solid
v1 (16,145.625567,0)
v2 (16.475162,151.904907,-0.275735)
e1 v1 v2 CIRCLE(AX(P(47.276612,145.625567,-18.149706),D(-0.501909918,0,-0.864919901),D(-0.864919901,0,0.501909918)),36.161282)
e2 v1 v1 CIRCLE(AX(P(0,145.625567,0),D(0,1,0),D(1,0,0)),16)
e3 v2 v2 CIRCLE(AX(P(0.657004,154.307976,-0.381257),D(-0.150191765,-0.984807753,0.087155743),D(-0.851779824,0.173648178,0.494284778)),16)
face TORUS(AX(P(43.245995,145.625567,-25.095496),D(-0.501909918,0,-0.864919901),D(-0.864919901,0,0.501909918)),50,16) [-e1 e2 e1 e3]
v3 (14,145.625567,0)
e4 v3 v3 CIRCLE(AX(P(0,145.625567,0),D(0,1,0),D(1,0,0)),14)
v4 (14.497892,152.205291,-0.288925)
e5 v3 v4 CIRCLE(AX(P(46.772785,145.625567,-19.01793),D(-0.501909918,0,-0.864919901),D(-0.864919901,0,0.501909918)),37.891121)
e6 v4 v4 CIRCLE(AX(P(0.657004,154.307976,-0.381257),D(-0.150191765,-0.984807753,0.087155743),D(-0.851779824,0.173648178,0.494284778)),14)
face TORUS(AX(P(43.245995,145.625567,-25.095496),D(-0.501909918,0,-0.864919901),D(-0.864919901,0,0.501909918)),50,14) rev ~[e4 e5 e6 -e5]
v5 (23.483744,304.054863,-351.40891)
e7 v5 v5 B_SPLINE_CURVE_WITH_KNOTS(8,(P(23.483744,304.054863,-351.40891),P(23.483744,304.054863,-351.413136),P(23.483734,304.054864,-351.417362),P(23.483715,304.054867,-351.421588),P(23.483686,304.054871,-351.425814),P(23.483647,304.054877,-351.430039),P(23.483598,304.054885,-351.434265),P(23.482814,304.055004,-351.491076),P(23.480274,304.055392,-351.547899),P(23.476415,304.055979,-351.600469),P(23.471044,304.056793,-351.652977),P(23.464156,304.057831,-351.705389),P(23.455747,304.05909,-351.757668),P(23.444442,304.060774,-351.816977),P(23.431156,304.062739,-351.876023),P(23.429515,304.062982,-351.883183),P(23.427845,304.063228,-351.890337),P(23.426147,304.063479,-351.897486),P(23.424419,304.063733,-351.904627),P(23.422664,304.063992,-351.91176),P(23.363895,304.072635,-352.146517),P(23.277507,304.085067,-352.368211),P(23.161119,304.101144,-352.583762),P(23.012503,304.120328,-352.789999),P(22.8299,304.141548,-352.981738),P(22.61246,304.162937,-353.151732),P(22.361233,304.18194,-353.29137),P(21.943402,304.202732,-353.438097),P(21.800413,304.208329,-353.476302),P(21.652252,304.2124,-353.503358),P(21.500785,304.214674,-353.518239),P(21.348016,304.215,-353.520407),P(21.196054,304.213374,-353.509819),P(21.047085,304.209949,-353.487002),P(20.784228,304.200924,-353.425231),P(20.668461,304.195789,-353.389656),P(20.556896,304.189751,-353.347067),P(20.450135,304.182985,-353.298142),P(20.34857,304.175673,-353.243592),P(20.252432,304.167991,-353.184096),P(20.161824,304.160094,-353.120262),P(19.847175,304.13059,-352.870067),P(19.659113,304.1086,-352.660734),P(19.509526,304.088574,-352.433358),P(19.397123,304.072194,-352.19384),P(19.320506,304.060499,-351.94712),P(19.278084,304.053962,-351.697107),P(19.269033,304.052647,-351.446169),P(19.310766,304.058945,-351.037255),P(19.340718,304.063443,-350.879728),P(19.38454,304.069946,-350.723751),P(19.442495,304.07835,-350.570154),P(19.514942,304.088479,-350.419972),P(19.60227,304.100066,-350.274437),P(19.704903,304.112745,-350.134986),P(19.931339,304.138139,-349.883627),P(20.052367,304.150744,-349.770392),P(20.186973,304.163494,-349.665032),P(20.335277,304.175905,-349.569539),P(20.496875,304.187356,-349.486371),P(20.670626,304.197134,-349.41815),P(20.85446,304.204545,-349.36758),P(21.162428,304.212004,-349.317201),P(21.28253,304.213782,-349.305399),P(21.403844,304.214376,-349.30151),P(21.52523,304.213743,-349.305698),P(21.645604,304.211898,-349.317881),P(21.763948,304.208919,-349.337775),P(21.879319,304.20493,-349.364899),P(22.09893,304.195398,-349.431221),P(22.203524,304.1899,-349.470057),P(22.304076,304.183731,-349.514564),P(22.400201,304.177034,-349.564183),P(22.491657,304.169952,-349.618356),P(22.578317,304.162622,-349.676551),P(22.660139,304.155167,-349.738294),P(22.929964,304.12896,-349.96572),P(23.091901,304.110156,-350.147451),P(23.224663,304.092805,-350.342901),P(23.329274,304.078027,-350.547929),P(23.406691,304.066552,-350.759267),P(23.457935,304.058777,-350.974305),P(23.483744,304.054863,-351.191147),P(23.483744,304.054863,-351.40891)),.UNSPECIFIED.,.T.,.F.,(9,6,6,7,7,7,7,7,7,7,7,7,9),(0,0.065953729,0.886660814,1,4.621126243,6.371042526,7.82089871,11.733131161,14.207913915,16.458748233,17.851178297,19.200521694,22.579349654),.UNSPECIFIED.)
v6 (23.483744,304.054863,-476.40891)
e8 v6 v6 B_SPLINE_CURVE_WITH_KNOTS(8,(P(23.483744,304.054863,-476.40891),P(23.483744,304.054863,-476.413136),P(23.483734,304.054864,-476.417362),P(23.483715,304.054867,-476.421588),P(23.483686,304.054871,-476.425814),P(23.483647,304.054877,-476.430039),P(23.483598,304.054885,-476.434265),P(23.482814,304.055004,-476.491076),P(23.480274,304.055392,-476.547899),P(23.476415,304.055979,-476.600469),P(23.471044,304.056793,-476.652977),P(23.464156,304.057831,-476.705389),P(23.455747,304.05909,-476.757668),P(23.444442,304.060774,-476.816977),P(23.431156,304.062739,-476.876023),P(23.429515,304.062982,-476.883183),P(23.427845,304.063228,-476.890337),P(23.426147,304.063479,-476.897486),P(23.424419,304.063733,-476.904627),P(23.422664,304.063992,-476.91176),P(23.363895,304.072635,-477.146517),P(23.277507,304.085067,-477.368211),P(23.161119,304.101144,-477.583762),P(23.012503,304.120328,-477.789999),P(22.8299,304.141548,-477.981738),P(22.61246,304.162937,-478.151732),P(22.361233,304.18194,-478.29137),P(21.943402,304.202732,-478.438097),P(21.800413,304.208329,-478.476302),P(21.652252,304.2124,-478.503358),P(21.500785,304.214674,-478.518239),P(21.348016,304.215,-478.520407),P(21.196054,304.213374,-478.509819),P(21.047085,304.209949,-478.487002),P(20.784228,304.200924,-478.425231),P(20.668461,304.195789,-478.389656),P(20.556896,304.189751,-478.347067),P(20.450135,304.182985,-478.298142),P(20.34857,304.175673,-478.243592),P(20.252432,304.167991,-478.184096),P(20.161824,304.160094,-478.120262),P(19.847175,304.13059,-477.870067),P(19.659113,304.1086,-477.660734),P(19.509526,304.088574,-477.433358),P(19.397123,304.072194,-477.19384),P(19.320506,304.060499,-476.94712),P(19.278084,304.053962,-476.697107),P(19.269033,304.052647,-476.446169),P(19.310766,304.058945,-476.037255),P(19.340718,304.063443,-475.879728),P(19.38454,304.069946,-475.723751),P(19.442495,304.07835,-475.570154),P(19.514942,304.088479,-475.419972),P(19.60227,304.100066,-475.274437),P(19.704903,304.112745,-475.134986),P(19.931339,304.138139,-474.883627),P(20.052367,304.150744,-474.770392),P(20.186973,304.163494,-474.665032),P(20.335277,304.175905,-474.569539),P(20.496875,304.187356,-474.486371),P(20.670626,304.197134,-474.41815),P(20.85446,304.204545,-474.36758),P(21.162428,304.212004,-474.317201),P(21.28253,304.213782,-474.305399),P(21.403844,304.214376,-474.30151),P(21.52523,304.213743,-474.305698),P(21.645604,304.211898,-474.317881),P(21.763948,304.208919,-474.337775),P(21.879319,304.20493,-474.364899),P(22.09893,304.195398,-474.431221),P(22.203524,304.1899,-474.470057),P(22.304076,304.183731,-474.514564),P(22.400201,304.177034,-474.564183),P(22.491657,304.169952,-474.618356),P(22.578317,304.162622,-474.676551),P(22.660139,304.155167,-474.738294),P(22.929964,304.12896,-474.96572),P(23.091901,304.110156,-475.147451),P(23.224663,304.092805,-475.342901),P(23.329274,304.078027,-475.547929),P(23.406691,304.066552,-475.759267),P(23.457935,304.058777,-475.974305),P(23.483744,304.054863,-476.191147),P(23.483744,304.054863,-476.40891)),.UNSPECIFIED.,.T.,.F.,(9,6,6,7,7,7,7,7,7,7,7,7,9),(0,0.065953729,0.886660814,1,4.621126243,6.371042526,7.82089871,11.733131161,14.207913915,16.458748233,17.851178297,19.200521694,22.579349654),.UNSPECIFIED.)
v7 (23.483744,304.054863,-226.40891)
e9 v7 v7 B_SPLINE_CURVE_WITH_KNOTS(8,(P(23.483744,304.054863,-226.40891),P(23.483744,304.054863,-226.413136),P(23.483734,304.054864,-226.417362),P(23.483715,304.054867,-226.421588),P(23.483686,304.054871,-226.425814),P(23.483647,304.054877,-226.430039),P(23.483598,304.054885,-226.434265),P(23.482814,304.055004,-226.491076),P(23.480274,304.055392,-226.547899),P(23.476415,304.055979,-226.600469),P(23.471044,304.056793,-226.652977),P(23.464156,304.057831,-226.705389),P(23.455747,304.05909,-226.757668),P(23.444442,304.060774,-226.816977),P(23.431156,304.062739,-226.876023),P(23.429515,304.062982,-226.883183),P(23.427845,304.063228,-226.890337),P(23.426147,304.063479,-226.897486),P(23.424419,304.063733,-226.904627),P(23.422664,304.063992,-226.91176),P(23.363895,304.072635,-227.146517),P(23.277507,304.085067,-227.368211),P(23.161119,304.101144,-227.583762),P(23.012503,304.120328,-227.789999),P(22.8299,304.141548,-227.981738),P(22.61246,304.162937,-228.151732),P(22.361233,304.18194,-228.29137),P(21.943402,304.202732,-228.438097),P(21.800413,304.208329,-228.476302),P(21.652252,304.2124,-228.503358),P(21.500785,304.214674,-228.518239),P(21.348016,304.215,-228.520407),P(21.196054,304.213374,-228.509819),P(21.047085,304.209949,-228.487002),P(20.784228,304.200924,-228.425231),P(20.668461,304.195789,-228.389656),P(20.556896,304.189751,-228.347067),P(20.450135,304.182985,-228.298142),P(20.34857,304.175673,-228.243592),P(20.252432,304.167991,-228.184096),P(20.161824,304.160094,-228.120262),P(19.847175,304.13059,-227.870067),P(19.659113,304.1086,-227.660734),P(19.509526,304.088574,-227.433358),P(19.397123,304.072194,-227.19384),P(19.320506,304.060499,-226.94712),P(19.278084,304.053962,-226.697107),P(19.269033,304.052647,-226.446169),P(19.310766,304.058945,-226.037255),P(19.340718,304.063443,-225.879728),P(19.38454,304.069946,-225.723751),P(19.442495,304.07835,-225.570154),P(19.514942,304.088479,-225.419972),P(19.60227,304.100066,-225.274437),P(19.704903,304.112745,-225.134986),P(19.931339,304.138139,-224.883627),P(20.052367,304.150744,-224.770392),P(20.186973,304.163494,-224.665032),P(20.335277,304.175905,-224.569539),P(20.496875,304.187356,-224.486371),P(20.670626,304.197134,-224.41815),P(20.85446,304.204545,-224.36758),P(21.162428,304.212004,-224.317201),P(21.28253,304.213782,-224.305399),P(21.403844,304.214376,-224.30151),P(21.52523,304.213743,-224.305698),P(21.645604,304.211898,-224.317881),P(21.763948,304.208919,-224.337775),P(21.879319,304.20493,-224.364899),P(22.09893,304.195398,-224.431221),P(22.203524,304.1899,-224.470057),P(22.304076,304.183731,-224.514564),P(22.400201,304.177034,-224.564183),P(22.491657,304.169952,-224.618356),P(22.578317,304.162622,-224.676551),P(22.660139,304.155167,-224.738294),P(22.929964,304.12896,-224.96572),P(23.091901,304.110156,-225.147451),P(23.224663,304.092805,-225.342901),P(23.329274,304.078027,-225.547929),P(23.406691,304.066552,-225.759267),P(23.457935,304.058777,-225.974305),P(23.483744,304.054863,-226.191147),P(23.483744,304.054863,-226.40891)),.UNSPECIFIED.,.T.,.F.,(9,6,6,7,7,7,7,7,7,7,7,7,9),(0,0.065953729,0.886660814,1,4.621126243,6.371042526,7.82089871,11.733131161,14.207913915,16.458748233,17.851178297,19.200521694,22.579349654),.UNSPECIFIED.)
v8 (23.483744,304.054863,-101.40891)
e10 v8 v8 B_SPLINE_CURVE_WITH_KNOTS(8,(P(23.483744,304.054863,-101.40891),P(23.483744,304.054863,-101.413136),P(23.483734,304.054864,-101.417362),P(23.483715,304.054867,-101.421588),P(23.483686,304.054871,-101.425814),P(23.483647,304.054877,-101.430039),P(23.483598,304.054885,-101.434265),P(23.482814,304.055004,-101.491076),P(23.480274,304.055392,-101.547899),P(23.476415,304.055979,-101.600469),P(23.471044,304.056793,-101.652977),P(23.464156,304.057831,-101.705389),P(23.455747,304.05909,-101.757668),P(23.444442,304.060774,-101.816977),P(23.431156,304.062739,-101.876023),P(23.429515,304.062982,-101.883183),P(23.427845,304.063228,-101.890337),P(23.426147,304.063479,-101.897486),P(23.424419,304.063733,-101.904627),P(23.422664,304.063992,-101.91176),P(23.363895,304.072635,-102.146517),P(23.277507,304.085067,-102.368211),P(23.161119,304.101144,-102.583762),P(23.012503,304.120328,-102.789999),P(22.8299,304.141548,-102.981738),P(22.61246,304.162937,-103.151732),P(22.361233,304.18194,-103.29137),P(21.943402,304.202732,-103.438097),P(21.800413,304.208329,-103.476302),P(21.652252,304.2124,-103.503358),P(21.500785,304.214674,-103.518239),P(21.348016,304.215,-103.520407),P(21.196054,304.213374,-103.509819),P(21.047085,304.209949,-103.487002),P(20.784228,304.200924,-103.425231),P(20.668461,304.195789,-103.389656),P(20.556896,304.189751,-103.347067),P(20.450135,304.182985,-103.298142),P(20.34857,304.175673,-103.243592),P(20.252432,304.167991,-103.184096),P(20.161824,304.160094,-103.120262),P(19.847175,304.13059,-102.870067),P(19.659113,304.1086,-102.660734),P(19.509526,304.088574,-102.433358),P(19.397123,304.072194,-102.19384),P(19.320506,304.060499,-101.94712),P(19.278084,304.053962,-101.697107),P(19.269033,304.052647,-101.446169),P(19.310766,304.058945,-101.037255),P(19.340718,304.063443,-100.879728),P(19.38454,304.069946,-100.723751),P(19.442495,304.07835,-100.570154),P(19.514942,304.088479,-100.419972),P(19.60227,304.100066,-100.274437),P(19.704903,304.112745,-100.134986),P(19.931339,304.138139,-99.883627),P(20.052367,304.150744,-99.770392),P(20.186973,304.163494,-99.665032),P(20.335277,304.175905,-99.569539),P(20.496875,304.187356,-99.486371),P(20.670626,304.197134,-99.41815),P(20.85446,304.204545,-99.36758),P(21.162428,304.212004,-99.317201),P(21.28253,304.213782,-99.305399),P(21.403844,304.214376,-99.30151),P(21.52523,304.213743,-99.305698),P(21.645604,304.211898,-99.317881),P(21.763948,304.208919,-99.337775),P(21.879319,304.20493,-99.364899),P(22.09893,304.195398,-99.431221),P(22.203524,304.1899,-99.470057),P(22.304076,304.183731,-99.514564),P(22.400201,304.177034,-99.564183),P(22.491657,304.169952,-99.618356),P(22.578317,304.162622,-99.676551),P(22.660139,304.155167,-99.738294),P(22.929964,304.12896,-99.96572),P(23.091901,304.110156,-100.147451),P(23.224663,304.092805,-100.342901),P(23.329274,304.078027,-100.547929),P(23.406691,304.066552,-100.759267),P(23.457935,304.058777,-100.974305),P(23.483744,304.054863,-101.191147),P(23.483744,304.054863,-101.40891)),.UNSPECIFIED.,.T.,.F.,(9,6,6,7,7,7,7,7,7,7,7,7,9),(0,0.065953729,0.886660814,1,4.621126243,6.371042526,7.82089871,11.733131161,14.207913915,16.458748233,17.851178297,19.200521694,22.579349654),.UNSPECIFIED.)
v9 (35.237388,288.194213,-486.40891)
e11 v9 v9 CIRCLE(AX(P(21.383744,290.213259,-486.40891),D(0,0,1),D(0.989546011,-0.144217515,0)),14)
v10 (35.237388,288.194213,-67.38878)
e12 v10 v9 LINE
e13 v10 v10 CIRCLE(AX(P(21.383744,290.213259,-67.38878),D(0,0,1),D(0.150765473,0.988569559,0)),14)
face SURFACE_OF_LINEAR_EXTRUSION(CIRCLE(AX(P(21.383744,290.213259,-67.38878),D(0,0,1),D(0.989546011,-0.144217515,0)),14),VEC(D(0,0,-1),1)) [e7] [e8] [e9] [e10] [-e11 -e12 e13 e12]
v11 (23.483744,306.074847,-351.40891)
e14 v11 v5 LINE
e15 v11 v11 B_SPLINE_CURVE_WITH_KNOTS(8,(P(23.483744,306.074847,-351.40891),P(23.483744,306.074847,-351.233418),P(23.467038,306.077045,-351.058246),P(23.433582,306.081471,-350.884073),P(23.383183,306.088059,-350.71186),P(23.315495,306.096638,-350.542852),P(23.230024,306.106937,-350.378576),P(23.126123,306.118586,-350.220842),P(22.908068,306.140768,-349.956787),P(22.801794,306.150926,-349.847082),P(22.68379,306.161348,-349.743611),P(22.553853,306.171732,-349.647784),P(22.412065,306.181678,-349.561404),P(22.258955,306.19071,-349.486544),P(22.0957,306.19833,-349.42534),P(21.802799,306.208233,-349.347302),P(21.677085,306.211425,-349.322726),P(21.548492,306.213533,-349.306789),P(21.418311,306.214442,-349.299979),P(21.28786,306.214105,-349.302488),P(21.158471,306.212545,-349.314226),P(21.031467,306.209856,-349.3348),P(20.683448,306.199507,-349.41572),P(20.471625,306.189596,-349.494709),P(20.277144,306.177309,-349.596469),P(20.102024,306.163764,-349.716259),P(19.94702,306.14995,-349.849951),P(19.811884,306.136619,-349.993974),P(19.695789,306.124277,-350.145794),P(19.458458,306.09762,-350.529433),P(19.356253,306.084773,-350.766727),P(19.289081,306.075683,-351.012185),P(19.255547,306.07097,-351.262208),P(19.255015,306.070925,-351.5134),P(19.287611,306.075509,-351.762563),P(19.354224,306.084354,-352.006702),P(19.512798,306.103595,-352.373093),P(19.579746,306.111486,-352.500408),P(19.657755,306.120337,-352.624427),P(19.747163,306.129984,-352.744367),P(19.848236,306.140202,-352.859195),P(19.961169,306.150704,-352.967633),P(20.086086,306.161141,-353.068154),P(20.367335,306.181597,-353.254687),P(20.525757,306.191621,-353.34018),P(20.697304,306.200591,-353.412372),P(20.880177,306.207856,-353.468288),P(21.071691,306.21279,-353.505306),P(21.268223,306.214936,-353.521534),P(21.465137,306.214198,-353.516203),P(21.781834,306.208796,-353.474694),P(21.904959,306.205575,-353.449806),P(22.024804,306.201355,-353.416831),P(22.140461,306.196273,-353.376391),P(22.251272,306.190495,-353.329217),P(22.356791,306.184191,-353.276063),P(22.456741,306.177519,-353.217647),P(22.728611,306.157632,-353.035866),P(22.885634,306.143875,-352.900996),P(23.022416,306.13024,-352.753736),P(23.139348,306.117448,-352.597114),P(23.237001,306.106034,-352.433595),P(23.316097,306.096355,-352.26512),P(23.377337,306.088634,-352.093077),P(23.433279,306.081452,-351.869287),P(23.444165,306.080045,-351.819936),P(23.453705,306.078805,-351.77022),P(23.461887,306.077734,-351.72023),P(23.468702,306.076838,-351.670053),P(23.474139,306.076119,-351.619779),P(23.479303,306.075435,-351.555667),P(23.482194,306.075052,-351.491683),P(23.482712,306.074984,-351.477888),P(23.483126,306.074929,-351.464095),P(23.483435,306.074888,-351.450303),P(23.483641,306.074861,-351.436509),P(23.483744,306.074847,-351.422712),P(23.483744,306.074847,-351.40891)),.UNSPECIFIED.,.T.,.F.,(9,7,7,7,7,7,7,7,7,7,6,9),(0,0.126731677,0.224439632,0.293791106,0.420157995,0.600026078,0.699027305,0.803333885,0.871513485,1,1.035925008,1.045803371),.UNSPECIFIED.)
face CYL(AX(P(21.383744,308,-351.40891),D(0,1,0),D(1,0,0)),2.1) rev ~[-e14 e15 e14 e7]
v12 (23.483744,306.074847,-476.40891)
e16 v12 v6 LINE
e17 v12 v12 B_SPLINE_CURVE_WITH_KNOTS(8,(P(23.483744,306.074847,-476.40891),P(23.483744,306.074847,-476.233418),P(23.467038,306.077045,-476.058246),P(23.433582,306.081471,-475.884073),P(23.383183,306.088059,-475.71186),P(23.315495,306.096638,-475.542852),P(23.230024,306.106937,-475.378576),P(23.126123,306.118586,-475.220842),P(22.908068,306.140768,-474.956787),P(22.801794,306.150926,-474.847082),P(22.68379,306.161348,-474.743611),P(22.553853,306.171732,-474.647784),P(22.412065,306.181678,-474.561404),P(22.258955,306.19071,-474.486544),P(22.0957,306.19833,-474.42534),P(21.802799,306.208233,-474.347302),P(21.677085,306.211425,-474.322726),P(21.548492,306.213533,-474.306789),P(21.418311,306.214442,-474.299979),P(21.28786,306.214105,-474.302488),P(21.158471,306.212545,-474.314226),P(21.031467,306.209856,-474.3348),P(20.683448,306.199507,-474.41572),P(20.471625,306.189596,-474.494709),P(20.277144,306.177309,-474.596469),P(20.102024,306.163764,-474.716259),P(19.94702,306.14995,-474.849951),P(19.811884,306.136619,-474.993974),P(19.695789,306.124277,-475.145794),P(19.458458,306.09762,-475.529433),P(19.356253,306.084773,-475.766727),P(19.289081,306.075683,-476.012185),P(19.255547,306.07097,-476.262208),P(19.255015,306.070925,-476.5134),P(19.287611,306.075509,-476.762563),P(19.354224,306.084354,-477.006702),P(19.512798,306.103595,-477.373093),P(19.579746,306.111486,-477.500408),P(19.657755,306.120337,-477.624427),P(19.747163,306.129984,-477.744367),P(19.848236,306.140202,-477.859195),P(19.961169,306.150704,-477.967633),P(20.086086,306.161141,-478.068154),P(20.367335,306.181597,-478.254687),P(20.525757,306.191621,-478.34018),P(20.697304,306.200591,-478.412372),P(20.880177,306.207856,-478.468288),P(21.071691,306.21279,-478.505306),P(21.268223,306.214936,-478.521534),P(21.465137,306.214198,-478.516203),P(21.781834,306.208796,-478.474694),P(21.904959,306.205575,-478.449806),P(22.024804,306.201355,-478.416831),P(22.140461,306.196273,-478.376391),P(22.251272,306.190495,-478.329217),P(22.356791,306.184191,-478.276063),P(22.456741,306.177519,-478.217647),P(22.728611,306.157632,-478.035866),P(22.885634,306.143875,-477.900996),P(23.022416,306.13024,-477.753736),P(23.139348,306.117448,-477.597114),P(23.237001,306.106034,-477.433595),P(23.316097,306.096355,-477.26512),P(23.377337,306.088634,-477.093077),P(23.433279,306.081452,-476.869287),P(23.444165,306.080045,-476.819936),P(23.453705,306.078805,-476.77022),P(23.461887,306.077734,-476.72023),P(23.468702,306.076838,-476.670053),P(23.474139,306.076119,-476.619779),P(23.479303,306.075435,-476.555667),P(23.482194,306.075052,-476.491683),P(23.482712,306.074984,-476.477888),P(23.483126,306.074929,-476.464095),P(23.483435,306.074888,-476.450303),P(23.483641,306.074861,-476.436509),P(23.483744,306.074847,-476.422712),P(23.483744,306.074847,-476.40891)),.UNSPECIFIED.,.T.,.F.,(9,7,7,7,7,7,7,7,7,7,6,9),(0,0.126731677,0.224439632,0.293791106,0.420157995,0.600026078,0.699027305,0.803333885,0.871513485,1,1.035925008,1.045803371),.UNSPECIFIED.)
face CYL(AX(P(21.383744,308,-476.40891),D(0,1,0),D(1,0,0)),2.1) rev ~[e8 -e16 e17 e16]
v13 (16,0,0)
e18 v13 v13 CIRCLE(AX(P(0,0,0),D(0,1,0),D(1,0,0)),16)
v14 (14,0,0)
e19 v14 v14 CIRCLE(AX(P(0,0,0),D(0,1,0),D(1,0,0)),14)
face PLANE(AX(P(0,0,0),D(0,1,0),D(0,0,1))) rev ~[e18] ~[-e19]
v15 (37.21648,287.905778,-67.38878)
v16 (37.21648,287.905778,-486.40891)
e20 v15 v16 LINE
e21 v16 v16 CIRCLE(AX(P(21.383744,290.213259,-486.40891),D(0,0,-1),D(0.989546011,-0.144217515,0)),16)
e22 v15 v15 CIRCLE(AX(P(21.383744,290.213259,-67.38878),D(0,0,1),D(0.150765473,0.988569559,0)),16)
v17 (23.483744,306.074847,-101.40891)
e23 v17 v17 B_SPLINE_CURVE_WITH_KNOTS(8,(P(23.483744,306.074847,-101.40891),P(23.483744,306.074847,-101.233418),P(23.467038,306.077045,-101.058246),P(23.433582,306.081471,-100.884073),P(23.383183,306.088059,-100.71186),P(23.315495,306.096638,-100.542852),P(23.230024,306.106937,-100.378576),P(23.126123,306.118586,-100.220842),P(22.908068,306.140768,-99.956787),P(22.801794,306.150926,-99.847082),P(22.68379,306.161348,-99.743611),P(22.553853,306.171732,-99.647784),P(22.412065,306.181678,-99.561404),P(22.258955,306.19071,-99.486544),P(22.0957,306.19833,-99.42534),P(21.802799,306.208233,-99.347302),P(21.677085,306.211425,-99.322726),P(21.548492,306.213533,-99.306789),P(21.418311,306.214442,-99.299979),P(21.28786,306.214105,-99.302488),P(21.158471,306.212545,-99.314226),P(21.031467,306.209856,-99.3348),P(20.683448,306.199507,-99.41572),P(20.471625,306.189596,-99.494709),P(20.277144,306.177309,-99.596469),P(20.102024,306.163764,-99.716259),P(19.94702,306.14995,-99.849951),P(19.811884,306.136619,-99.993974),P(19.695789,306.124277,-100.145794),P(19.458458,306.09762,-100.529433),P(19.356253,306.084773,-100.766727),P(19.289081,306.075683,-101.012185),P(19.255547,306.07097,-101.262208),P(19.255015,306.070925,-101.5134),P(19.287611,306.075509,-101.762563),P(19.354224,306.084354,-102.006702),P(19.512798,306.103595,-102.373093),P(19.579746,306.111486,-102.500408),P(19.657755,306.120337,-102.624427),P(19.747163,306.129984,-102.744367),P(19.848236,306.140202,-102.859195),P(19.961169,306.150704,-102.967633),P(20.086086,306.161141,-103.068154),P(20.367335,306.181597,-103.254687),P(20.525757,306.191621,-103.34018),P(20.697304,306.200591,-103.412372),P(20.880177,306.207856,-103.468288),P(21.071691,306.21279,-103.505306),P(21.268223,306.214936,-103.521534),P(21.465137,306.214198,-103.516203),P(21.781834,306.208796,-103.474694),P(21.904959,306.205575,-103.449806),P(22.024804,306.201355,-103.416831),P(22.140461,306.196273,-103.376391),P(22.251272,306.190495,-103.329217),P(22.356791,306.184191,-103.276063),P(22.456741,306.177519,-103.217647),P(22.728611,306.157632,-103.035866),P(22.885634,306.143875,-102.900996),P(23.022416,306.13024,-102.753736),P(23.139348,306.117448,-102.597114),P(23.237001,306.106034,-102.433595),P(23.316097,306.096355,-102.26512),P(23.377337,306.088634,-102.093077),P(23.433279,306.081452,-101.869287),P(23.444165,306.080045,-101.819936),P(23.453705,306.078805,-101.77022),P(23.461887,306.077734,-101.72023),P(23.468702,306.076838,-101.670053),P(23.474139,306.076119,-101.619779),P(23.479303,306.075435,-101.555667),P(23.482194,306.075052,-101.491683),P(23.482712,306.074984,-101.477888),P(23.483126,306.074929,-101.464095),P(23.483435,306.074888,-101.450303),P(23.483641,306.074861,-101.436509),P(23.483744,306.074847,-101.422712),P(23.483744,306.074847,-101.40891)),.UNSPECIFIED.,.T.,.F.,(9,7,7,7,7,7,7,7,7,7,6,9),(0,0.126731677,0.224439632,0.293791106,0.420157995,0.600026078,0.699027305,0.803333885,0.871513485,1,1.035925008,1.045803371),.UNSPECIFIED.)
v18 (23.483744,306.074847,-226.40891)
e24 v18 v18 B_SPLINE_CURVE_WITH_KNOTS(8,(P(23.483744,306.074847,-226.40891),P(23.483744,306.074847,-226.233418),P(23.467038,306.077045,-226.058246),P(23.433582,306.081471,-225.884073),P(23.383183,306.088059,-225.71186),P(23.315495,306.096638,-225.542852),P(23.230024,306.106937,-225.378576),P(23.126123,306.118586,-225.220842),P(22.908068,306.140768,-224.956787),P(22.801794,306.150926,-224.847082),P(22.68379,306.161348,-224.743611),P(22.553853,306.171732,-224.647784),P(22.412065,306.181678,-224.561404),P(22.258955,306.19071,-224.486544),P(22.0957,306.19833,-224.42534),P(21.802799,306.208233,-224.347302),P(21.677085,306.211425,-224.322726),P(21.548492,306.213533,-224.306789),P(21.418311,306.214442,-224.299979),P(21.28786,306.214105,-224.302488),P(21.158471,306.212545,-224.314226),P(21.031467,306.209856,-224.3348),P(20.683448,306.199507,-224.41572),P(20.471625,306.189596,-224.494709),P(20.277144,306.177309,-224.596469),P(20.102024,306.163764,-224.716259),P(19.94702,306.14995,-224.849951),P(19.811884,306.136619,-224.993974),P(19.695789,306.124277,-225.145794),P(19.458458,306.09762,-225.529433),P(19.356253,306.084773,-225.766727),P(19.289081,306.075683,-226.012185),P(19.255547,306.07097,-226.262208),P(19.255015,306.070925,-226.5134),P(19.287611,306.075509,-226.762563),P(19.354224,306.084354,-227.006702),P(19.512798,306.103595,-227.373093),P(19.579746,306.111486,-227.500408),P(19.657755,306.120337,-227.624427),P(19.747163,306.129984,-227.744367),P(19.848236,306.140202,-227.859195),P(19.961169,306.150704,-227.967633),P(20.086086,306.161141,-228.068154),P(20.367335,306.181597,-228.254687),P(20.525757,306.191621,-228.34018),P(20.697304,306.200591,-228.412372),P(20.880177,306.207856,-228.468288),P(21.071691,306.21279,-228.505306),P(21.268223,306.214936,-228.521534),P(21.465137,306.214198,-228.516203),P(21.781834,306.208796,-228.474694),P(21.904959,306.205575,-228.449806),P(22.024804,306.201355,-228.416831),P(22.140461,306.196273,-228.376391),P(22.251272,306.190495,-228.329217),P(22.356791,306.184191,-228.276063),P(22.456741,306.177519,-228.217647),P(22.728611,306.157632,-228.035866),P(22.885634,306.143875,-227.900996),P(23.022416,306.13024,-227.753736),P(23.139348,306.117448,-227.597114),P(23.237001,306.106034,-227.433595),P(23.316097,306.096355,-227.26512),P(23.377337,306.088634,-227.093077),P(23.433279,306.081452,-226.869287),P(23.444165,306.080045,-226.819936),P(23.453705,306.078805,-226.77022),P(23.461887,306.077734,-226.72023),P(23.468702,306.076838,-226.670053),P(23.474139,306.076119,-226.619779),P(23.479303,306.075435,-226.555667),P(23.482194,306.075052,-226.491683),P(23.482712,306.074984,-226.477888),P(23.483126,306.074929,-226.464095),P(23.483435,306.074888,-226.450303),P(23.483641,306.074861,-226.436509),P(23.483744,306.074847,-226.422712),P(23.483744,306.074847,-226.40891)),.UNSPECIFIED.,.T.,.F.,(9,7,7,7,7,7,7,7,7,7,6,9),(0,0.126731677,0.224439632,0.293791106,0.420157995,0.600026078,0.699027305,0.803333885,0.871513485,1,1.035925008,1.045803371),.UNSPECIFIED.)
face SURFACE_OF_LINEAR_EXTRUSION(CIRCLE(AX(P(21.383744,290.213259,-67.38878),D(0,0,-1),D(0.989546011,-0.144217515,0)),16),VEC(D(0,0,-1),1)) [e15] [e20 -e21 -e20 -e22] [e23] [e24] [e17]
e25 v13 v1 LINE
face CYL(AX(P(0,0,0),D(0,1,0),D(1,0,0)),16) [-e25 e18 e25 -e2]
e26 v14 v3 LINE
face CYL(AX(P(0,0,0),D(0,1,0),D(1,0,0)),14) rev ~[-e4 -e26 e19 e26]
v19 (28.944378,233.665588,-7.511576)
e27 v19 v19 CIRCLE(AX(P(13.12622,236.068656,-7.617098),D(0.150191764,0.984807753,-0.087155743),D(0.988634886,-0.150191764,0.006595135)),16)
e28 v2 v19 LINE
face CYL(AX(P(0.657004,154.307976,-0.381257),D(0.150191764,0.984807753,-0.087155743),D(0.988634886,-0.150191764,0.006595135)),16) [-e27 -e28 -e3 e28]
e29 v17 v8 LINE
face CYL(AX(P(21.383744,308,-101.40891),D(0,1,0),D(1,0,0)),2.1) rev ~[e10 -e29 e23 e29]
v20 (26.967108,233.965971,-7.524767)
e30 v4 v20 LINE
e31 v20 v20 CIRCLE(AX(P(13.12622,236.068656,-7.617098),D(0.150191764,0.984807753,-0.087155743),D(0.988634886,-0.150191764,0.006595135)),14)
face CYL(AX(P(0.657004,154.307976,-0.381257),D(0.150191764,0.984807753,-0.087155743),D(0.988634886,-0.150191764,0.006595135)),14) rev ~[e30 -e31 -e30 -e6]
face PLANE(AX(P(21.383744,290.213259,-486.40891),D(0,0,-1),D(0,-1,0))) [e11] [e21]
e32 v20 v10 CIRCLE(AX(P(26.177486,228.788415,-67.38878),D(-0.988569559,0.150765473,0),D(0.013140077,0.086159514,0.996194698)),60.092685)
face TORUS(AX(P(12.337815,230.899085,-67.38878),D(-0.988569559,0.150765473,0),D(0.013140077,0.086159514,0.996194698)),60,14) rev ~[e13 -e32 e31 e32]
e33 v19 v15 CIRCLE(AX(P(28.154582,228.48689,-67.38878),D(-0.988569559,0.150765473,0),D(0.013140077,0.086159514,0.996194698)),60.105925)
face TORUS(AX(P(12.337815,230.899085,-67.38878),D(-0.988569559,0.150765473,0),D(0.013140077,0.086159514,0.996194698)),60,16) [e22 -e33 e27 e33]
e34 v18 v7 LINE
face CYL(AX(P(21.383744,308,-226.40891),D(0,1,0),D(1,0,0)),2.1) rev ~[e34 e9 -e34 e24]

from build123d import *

# Parameters (mm, degrees)
ESBO_O1_R                  = 16
ESBO_O1_R_2                = 14
FURO_ROSCADO_DE_M51_REACH  = 578.936
FURO_ROSCADO_DE_M51_BORE_R = 2.1
PADR_O_LINEAR1_COUNT       = 4
PADR_O_LINEAR1_PITCH       = 125


with BuildPart() as part:
    # Varredura1: sweep along a curve in space
    with BuildLine() as varredura1_path:
        Line((0, 0, 0), (0, 145.625566824, 0))
        ThreePointArc((0, 145.625566824, 0), (0.164564067, 149.983353961, -0.095495939), (0.657003837, 154.307975707, -0.381256973))
        Line((0.657003837, 154.307975707, -0.381256973), (13.126220085, 236.068655986, -7.617098481))
        ThreePointArc((13.126220085, 236.068655986, -7.617098481), (19.007173448, 274.630081024, -26.85336791), (21.383743837, 290.213258656, -67.388780367))
        Line((21.383743837, 290.213258656, -67.388780367), (21.383743837, 290.213258656, -486.408909926))
    # Esboço1 → Varredura1 (sweep)
    with BuildSketch(Plane(origin=(0, 0, 0), x_dir=(1, 0, 0), z_dir=(0, 1, 0))):
        Circle(ESBO_O1_R)
        Circle(ESBO_O1_R_2, mode=Mode.SUBTRACT)
    sweep(path=varredura1_path.line)

    # Furo roscado de M51 bore → Furo roscado de M51 (cut, up to next)
    with BuildSketch(Plane(origin=(0, 308, 0), x_dir=(1, 0, 0), z_dir=(0, 1, 0)), mode=Mode.PRIVATE) as furo_roscado_de_m51_sk1:
        with Locations((21.383743837, 476.408909926)):
            Circle(FURO_ROSCADO_DE_M51_BORE_R)
    furo_roscado_de_m51_tool1 = extrude(furo_roscado_de_m51_sk1.sketch, amount=-FURO_ROSCADO_DE_M51_REACH, mode=Mode.PRIVATE) & part.part
    furo_roscado_de_m51 = furo_roscado_de_m51_tool1.solids().sort_by_distance((21.383744, 308, -476.40891))[0]
    add(furo_roscado_de_m51, mode=Mode.SUBTRACT)

    # Padrão linear1: Furo roscado de M51 ×4
    with Locations(*[(0, 0, i * PADR_O_LINEAR1_PITCH) for i in range(1, PADR_O_LINEAR1_COUNT)]):
        add(furo_roscado_de_m51, mode=Mode.SUBTRACT)


solid = part.part
